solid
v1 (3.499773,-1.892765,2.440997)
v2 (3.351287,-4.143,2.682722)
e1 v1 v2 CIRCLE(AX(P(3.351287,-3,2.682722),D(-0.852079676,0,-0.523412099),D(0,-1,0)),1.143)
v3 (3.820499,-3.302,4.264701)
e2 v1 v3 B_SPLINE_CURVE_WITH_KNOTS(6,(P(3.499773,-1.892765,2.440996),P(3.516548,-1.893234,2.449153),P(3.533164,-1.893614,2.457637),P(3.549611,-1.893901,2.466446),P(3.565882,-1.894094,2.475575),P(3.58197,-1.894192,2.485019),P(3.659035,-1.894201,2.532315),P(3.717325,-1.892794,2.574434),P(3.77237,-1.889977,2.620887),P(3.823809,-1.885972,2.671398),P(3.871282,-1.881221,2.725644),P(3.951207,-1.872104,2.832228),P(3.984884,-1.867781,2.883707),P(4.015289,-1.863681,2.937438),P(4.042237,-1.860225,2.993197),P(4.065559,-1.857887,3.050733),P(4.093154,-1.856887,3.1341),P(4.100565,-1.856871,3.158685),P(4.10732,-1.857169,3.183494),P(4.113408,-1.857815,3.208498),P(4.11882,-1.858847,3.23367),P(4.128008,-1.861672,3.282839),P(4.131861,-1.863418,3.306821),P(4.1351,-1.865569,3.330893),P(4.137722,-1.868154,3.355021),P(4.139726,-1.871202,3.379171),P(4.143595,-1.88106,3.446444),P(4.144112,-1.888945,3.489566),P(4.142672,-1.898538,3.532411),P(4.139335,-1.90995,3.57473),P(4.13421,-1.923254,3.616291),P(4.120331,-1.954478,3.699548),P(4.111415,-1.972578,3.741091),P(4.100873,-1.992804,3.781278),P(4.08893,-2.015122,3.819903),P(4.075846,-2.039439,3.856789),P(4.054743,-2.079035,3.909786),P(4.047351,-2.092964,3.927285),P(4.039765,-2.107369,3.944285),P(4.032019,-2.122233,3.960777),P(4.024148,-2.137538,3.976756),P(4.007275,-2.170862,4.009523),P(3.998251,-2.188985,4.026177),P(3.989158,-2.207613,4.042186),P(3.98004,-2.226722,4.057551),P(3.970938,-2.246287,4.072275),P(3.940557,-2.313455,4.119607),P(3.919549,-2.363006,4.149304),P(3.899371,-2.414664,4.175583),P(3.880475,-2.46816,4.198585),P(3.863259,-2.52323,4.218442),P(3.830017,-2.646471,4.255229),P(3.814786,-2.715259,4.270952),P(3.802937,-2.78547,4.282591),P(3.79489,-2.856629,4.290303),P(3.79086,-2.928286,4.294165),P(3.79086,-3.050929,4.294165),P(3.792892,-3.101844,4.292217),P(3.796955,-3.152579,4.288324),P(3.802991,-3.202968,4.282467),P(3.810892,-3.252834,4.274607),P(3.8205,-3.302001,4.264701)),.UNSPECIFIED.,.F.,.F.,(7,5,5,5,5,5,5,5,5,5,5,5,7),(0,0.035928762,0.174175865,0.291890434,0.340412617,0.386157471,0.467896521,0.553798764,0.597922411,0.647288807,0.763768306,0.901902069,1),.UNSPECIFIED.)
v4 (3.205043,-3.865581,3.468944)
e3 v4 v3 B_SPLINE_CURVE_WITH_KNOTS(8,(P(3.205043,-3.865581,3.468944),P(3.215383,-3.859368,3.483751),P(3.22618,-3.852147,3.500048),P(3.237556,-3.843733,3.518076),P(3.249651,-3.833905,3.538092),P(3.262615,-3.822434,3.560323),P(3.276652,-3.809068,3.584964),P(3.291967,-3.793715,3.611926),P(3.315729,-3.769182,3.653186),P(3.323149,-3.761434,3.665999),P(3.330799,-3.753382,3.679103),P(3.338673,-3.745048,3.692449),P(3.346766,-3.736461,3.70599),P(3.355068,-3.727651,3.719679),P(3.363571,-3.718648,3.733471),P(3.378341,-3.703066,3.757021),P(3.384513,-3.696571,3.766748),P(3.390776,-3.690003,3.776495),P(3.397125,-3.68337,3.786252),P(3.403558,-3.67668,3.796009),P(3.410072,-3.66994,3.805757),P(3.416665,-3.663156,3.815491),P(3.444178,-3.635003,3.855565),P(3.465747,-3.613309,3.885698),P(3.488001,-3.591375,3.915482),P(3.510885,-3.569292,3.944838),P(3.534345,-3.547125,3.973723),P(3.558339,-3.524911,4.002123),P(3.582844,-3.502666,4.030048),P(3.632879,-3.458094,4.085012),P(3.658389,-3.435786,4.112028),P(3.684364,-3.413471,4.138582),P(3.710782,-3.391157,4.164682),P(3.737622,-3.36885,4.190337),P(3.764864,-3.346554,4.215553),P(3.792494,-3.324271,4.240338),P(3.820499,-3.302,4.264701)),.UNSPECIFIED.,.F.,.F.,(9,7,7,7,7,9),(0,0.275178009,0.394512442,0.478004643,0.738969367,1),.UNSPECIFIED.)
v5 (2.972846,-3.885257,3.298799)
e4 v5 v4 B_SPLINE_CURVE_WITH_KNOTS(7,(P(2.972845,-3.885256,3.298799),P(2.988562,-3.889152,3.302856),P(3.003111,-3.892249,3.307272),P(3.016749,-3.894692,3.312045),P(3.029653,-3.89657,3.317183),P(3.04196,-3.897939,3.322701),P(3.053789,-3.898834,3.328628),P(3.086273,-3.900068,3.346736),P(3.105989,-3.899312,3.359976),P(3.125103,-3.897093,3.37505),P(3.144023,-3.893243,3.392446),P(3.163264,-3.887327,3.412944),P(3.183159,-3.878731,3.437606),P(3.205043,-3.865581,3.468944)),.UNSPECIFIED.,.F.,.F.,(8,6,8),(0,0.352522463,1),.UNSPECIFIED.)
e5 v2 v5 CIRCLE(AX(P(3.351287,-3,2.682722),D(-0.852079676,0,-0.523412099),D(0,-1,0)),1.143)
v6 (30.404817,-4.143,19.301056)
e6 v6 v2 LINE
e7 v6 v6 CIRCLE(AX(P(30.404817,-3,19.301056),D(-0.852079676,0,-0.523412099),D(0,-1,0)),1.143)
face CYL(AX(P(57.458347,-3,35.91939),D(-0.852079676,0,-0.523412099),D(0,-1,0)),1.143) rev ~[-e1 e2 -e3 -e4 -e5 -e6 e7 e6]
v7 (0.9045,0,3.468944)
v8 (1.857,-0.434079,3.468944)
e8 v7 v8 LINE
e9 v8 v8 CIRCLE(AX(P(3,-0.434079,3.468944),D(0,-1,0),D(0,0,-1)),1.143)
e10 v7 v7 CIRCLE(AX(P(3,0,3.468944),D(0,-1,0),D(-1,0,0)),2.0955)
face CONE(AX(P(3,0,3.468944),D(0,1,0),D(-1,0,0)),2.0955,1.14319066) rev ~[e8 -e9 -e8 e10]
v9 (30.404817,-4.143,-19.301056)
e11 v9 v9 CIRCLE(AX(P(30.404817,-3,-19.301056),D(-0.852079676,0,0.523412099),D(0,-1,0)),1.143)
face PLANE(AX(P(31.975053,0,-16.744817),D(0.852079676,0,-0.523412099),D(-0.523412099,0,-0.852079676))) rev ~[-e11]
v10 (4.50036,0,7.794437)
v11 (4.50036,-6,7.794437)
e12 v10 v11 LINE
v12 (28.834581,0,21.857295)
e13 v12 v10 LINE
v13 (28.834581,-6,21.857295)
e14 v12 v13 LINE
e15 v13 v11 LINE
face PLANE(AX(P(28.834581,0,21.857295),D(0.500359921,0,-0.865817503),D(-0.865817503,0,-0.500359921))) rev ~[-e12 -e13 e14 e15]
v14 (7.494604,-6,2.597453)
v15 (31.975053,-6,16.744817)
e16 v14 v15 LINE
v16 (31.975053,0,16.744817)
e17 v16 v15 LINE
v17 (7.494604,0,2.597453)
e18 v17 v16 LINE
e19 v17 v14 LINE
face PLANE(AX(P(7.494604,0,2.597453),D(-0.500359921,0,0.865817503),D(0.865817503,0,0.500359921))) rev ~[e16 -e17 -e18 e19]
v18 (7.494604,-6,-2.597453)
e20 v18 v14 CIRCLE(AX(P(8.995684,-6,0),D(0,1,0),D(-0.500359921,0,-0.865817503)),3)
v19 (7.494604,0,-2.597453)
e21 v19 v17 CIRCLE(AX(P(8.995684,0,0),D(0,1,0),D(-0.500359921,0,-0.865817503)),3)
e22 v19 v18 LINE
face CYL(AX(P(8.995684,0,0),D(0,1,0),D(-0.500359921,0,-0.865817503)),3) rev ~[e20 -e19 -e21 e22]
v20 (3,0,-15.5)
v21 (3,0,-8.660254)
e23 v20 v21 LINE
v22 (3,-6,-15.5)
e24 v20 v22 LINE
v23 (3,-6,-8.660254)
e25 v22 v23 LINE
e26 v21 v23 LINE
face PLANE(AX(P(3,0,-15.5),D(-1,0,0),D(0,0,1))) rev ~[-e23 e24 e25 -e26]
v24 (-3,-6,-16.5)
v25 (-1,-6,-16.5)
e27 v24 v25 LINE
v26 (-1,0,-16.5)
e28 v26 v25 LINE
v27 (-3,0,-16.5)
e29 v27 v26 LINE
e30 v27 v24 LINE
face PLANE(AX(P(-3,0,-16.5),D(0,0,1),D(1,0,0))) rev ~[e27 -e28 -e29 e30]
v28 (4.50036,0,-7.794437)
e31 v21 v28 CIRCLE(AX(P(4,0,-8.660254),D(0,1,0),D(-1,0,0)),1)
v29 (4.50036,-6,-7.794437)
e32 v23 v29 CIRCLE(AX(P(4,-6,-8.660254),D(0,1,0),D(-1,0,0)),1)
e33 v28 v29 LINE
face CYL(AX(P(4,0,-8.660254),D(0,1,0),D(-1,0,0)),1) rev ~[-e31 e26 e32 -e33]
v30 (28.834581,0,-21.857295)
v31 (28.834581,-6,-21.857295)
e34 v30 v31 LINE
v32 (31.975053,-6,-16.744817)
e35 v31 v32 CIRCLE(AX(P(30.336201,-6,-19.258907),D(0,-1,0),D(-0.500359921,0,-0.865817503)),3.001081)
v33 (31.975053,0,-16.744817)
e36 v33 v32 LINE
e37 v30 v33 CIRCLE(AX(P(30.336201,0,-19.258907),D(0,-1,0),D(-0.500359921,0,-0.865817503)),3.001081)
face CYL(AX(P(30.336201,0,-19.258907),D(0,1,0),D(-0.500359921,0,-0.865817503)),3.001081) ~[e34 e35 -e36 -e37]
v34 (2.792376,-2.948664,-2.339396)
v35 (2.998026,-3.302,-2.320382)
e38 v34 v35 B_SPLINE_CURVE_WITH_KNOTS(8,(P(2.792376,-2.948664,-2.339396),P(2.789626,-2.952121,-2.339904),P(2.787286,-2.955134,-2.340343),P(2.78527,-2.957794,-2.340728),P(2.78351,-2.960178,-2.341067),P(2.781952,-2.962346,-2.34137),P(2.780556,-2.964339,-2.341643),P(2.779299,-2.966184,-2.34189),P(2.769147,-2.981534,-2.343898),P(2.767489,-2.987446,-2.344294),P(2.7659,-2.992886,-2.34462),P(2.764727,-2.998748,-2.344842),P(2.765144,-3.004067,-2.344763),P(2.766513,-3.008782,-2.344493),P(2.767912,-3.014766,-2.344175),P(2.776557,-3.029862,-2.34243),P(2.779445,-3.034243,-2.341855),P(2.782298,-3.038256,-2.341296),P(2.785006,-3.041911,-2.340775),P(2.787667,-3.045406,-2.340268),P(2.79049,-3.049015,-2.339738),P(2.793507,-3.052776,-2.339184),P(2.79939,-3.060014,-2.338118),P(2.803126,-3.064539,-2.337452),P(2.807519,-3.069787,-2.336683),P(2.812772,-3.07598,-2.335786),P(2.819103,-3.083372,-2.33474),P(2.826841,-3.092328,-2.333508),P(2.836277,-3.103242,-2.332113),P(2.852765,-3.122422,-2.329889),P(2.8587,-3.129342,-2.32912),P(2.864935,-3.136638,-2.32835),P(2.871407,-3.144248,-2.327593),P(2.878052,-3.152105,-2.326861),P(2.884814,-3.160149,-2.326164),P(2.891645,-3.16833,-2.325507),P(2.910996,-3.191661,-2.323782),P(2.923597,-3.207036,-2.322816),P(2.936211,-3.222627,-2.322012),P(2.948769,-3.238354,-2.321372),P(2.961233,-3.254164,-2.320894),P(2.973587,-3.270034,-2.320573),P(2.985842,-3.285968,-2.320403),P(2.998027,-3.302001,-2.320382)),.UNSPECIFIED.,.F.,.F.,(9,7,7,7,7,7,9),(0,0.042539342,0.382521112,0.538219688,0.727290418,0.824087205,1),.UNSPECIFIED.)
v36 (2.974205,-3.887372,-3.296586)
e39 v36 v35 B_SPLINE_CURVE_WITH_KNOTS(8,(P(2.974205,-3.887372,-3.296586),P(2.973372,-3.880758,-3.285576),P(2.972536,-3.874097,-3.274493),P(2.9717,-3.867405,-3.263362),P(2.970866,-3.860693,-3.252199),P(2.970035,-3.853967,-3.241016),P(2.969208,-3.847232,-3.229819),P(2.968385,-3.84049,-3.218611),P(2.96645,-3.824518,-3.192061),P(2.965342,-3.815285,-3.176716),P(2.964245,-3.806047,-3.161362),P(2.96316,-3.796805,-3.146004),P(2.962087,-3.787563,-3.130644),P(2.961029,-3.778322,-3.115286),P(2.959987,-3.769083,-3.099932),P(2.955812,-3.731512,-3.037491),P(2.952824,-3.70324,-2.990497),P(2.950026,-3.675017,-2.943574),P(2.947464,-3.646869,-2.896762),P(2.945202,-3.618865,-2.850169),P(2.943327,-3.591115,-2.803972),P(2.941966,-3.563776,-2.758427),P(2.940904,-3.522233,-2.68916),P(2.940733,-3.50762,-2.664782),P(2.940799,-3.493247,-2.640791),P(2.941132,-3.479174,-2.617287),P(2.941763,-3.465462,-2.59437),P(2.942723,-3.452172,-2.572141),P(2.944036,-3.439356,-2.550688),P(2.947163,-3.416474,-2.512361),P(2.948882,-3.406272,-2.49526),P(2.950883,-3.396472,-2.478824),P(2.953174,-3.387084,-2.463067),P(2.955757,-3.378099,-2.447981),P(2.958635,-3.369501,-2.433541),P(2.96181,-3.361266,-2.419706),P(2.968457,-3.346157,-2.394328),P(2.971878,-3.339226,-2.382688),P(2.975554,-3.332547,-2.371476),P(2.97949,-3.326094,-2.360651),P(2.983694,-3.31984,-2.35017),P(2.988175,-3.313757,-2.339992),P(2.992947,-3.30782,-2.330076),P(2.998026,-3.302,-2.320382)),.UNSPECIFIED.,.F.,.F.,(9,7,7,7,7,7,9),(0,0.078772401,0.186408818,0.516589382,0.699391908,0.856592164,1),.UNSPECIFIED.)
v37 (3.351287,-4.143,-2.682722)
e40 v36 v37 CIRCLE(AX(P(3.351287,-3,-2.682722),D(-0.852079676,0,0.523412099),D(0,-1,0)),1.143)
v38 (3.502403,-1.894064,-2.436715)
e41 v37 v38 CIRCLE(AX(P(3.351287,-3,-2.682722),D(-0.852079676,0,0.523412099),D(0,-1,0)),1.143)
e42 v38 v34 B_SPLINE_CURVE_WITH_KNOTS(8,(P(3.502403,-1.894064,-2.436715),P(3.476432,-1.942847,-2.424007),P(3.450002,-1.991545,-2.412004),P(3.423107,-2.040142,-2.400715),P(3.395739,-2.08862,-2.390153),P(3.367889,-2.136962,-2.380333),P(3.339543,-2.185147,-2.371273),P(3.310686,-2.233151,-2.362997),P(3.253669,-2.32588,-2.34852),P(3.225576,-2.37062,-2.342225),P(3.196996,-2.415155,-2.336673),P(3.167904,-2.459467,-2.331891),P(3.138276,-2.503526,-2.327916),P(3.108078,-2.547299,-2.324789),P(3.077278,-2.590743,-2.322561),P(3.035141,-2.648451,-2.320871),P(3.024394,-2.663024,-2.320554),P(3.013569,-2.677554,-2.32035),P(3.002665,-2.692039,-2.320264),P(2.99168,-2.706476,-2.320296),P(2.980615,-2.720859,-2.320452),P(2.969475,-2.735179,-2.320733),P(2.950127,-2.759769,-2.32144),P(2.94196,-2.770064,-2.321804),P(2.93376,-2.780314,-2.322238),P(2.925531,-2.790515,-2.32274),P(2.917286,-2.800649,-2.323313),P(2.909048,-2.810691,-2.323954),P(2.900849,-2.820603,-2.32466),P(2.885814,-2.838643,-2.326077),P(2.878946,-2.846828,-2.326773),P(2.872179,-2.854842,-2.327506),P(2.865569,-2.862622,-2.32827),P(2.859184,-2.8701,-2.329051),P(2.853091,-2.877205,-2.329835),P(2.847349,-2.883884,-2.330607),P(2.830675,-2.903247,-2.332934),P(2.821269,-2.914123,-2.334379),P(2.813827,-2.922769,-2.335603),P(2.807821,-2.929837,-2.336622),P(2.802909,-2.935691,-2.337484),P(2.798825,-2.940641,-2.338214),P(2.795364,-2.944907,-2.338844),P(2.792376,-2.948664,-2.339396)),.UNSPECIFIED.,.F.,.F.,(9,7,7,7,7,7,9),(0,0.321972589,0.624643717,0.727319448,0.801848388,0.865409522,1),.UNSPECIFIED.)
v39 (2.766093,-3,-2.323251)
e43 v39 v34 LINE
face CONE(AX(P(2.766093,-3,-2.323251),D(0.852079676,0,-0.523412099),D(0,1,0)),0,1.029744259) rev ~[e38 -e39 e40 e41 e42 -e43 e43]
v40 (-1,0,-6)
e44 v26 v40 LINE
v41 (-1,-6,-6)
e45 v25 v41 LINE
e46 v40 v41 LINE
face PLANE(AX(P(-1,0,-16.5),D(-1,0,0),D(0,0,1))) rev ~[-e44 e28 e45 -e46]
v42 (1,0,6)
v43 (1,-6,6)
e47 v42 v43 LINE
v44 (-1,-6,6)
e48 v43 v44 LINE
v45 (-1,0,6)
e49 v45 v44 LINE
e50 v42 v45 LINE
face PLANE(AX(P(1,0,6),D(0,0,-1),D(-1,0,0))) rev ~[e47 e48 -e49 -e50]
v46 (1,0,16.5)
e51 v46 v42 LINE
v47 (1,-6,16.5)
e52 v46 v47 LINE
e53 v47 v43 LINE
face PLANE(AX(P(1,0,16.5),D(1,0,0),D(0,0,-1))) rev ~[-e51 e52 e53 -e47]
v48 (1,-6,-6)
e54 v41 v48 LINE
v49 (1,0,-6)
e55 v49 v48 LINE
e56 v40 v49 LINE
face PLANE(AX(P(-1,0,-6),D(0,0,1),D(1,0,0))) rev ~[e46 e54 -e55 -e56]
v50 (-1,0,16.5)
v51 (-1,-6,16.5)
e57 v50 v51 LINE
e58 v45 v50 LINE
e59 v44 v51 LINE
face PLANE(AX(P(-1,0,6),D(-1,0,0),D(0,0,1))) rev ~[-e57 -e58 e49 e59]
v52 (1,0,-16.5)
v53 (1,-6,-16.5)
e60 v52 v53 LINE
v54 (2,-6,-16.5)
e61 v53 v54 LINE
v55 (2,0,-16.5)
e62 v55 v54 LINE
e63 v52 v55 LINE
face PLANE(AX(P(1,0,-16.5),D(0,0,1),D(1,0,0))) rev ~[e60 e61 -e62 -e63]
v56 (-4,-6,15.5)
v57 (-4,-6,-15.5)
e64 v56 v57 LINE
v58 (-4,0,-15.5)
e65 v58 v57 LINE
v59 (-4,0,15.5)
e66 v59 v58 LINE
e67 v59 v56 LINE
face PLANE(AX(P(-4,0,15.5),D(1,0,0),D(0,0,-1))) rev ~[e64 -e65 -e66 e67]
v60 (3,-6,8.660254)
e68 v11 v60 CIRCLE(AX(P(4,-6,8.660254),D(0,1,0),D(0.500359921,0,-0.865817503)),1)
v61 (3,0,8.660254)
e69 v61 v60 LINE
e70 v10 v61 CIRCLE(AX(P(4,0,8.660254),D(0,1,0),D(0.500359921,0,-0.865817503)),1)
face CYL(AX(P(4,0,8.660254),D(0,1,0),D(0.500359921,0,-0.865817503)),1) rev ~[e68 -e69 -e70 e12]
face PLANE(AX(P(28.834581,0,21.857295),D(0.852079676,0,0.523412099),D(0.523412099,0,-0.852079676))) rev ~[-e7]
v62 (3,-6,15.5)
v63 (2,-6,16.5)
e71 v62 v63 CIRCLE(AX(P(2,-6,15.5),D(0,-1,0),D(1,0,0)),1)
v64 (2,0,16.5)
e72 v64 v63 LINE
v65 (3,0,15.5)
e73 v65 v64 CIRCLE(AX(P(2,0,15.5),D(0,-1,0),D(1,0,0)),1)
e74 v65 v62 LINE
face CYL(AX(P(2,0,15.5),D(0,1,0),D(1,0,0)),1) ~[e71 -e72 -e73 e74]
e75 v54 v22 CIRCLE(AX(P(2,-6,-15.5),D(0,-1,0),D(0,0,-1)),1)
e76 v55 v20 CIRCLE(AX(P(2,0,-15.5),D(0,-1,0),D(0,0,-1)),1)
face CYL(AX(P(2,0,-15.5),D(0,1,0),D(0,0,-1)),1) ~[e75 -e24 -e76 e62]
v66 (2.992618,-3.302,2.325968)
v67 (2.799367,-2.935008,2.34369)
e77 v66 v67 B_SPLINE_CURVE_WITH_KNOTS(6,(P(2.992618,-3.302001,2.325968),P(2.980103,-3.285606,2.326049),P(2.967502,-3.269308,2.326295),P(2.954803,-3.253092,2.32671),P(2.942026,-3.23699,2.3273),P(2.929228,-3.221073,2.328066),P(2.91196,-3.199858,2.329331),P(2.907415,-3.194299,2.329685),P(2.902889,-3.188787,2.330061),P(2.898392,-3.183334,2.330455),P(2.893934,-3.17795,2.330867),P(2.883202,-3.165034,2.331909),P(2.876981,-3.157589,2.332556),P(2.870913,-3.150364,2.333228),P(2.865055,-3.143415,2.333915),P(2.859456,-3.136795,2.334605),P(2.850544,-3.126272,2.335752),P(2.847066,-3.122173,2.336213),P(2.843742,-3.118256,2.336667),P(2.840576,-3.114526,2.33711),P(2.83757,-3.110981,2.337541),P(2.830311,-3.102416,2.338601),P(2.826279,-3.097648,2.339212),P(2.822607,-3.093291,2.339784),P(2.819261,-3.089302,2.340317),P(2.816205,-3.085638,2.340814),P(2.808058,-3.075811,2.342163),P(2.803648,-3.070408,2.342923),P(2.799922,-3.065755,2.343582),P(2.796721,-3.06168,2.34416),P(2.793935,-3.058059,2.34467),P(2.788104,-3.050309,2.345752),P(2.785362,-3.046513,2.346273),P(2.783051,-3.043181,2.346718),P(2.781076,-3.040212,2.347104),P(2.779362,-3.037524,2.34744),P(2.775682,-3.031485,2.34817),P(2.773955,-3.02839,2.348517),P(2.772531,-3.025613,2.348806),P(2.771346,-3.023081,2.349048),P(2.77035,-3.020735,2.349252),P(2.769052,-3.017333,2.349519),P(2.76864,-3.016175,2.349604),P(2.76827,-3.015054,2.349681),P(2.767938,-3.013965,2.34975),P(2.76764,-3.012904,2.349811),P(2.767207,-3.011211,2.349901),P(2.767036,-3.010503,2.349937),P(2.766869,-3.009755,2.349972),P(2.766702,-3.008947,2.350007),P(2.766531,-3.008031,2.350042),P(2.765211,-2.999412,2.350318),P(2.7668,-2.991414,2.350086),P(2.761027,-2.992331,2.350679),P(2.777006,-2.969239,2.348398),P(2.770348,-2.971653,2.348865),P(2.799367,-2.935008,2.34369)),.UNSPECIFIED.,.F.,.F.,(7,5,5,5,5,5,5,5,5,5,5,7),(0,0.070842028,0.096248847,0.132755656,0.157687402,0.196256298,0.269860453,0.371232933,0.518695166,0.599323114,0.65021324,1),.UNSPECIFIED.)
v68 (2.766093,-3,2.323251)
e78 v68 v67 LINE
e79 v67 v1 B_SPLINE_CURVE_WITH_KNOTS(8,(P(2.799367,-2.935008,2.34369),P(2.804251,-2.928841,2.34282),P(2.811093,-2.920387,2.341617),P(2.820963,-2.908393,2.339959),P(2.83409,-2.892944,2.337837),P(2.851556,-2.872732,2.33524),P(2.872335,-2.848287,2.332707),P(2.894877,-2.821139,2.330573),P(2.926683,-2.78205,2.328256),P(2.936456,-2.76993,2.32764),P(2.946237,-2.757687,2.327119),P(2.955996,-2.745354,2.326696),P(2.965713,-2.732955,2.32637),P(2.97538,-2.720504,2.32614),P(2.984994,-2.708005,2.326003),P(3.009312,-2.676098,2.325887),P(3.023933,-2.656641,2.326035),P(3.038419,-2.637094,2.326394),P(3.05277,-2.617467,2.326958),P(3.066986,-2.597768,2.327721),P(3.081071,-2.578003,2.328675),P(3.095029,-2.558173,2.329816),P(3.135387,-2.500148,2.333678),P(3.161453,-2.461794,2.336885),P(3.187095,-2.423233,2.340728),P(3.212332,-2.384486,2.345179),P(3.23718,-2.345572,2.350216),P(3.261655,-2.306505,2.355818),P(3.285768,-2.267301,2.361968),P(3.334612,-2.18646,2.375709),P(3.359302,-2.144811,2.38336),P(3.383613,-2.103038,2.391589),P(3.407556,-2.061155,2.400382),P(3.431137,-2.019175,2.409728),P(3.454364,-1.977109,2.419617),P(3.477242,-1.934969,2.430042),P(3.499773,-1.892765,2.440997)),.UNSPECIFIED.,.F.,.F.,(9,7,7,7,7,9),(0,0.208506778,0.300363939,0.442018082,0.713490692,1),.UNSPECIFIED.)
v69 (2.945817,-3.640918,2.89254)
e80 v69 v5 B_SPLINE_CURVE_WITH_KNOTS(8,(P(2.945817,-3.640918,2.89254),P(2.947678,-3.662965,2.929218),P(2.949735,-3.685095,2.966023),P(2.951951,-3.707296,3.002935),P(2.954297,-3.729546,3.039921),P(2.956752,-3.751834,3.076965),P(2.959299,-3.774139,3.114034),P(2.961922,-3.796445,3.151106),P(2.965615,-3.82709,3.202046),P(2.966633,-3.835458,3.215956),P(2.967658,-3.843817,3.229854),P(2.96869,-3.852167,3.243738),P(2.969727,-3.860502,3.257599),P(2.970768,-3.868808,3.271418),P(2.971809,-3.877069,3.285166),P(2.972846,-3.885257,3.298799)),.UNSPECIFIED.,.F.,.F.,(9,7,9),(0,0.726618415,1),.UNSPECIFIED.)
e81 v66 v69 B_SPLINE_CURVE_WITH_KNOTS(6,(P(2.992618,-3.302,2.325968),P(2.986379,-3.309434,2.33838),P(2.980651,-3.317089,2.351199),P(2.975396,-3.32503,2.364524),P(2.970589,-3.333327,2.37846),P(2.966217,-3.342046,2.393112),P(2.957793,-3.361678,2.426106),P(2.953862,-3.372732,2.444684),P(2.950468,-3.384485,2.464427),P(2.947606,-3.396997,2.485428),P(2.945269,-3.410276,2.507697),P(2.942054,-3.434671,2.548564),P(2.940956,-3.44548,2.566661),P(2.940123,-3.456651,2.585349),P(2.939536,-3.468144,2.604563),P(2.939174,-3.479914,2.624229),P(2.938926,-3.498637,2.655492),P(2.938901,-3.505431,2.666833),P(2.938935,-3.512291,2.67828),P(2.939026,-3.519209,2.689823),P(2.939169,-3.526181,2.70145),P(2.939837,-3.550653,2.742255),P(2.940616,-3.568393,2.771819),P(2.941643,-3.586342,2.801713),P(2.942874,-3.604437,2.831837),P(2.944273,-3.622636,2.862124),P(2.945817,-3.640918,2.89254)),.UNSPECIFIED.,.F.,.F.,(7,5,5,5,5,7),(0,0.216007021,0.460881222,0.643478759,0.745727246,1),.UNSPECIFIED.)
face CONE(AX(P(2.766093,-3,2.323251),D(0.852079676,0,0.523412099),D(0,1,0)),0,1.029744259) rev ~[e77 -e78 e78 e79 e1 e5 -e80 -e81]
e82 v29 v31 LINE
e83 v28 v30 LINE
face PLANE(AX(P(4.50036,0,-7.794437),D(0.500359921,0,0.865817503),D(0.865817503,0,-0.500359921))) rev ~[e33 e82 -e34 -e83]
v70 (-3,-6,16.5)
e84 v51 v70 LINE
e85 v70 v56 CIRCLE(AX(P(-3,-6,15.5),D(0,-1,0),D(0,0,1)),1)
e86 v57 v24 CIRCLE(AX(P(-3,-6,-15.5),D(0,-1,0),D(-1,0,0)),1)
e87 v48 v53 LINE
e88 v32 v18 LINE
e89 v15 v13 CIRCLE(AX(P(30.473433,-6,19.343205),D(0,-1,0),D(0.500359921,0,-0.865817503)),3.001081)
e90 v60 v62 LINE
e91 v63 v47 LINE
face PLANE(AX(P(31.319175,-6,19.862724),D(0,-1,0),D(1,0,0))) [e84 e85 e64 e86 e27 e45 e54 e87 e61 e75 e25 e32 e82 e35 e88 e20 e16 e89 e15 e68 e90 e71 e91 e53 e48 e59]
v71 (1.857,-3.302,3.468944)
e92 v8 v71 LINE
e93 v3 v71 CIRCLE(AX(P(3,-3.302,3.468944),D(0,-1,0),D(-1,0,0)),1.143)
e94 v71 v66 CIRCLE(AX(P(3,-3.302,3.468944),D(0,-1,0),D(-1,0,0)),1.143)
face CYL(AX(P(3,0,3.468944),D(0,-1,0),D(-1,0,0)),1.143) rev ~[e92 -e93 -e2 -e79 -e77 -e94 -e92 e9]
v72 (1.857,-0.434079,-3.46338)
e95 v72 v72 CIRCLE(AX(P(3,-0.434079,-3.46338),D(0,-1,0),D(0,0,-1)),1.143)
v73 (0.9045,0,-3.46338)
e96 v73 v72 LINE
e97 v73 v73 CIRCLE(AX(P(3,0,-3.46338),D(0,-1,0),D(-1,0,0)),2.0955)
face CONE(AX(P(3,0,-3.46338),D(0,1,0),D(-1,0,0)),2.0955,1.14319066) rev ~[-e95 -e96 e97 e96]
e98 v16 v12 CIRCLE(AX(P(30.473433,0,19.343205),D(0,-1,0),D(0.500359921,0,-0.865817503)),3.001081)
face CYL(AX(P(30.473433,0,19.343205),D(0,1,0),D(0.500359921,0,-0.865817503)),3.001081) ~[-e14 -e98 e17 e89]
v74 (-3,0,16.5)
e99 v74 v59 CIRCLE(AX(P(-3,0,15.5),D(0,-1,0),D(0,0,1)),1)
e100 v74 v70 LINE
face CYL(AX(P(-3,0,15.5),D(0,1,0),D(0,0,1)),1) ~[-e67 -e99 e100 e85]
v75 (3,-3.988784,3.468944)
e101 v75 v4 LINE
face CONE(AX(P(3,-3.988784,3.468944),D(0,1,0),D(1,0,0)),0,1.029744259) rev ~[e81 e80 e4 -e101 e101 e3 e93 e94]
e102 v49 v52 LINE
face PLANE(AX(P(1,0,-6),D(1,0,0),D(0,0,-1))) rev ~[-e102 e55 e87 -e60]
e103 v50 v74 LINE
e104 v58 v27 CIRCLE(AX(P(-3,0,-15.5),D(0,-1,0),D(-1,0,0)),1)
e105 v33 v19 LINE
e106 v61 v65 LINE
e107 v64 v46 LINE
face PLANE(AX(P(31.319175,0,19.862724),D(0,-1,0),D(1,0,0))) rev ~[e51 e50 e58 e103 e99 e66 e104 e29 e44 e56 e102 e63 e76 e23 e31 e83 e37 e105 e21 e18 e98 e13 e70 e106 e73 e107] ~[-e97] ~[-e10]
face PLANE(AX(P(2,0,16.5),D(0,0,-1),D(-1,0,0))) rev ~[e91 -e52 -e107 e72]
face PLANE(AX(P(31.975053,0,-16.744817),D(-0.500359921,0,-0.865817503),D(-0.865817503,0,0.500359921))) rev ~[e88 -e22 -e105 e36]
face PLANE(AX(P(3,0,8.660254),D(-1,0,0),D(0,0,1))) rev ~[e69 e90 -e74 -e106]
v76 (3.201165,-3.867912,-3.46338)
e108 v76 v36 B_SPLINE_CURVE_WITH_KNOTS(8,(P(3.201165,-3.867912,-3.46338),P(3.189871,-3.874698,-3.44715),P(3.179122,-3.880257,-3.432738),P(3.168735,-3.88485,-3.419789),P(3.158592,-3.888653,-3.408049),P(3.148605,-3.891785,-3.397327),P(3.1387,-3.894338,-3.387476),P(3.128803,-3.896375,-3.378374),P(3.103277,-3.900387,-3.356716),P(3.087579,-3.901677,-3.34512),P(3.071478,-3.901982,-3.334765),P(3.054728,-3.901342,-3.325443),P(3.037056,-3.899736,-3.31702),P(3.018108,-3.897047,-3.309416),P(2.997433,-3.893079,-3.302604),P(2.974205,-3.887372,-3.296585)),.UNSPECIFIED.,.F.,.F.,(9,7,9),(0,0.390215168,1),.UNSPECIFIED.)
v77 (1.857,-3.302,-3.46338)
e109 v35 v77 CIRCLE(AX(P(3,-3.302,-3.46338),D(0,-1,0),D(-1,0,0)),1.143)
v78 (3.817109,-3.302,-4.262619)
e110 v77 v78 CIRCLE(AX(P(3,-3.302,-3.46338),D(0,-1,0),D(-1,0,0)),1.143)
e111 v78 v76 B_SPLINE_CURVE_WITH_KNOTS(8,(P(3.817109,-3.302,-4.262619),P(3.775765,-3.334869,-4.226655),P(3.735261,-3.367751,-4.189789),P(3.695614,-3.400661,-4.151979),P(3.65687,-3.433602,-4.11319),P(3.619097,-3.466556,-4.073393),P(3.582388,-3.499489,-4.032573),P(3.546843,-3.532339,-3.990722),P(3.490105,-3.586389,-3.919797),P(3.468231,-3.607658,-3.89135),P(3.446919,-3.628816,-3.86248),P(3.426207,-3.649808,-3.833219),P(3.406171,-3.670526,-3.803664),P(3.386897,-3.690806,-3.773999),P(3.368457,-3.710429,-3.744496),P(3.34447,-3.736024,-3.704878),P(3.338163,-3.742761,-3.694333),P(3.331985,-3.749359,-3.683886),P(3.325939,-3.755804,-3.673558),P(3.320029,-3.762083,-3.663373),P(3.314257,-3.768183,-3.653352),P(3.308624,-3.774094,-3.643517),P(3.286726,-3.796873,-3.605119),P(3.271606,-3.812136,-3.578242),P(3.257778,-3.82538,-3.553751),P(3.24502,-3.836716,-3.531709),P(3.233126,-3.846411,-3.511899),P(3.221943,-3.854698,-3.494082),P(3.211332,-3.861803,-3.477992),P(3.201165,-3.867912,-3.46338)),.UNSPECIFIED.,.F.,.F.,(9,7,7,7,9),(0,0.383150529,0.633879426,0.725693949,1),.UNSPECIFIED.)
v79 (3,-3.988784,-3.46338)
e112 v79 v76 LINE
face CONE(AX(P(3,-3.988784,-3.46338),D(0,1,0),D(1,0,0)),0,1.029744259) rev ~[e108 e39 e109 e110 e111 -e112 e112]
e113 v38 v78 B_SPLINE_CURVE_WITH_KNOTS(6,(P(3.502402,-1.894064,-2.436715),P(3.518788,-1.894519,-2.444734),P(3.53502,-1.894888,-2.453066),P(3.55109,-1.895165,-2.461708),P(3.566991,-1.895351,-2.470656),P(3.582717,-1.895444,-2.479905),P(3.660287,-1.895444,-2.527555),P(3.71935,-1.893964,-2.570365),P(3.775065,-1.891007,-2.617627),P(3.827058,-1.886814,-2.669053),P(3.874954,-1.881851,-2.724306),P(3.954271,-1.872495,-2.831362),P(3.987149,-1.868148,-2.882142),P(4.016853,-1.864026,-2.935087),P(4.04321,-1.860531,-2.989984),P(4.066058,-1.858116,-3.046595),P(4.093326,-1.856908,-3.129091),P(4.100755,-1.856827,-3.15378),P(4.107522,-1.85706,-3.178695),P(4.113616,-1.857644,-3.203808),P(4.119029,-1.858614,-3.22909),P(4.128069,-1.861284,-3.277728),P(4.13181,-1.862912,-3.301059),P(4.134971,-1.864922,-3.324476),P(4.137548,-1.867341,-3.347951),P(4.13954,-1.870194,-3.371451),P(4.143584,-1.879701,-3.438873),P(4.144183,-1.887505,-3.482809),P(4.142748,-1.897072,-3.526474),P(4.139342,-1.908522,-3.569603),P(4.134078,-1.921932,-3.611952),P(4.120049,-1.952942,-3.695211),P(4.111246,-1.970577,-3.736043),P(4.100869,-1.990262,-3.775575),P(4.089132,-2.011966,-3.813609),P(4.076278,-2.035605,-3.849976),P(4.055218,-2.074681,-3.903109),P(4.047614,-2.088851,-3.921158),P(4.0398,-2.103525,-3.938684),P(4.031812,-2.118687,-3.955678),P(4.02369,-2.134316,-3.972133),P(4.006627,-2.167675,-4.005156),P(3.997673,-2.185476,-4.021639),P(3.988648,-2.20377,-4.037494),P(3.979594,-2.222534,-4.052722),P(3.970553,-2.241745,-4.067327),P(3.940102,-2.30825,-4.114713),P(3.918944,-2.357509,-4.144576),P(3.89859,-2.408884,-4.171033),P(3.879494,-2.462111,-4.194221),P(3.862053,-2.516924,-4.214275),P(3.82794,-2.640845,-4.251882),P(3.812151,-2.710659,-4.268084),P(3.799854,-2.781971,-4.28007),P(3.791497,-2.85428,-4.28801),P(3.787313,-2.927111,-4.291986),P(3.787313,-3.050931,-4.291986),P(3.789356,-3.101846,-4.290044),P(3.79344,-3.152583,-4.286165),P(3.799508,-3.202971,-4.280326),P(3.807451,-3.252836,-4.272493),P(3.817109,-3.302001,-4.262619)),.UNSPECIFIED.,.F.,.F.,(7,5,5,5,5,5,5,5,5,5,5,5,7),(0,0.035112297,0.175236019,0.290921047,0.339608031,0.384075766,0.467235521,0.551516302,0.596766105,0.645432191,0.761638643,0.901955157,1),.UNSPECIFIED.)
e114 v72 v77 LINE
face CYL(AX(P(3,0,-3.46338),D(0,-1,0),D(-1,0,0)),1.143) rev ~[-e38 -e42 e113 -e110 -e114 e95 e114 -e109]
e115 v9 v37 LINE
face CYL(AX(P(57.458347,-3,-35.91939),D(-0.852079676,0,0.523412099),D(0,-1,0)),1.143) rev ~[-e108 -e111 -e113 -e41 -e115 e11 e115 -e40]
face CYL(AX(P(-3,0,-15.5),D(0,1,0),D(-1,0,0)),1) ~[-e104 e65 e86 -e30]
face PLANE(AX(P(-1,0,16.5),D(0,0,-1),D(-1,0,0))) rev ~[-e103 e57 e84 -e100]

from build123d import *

# Parameters (mm, degrees)
F1_DEPTH       = 6
F3_D           = 2.286
F3_DEPTH       = 3.302
F3_CSINK_D     = 4.191
F3_CSINK_ANGLE = 131
F3_TIP         = 0.6867836875
F4_D           = 2.286
F4_DEPTH       = 3.302
F4_CSINK_D     = 4.191
F4_CSINK_ANGLE = 131
F4_TIP         = 0.6867836875
F6_D           = 2.286
F6_DEPTH       = 31.75
F6_TIP         = 0.6867836875
F8_D           = 2.286
F8_DEPTH       = 31.75
F8_TIP         = 0.6867836875
F9_DEPTH       = 6


with BuildPart() as f1:
    # F0 (on Front) → F1 (new body)
    with BuildSketch(Plane.XZ):
        with BuildLine():
            Line((1, 16.5), (1, 6))
            Line((1, 6), (1, 0))
            Line((1, 0), (1, -6))
            Line((1, -6), (1, -16.5))
            Line((1, -16.5), (2, -16.5))
            ThreePointArc((2, -16.5), (2.7071067812, -16.2071067812), (3, -15.5))
            Line((3, -15.5), (3, -8.6602540378))
            ThreePointArc((3, -8.6602540378), (3.5001799931, -7.7941247399), (4.5003599214, -7.7944365345))
            Line((4.5003599214, -7.7944365345), (28.8345806574, -21.8572947335))
            Line((28.8345806574, -21.8572947335), (31.9750532508, -16.7448166758))
            Line((31.9750532508, -16.7448166758), (7.4946042855, -2.5974525099))
            ThreePointArc((7.4946042855, -2.5974525099), (5.9956840498, 0), (7.4946042855, 2.5974525099))
            Line((7.4946042855, 2.5974525099), (31.9750532508, 16.7448166758))
            Line((31.9750532508, 16.7448166758), (28.8345806574, 21.8572947335))
            Line((28.8345806574, 21.8572947335), (4.5003599214, 7.7944365345))
            ThreePointArc((4.5003599214, 7.7944365345), (3.5001799931, 7.7941247399), (3, 8.6602540378))
            Line((3, 8.6602540378), (3, 15.5))
            ThreePointArc((3, 15.5), (2.7071067812, 16.2071067812), (2, 16.5))
            Line((2, 16.5), (1, 16.5))
        make_face()
        with BuildLine():
            Line((-1, -6), (-1, 6))
            Line((-1, 6), (-1, 16.5))
            Line((-1, 16.5), (-3, 16.5))
            ThreePointArc((-3, 16.5), (-3.7071067812, 16.2071067812), (-4, 15.5))
            Line((-4, 15.5), (-4, -15.5))
            ThreePointArc((-4, -15.5), (-3.7071067812, -16.2071067812), (-3, -16.5))
            Line((-3, -16.5), (-1, -16.5))
            Line((-1, -16.5), (-1, -6))
        make_face()
        Polygon((1, 0), (1, 6), (-1, 6), (-1, -6), (1, -6), align=None)
    extrude(amount=F1_DEPTH)

    # F3
    with Locations(Plane(origin=(0, 0, 0), x_dir=(1, 0, 0), z_dir=(0, 1, 0))):
        with Locations((3, 3.4633801802)):
            CounterSinkHole(F3_D / 2, F3_CSINK_D / 2, depth=F3_DEPTH, counter_sink_angle=F3_CSINK_ANGLE)
            with Locations((0, 0, -(F3_DEPTH + F3_TIP / 2))):  # 118° drill point
                Cone(0, F3_D / 2, F3_TIP, mode=Mode.SUBTRACT)

    # F4
    with Locations(Plane(origin=(0, 0, 0), x_dir=(1, 0, 0), z_dir=(0, 1, 0))):
        with Locations((3, -3.4689440442)):
            CounterSinkHole(F4_D / 2, F4_CSINK_D / 2, depth=F4_DEPTH, counter_sink_angle=F4_CSINK_ANGLE)
            with Locations((0, 0, -(F4_DEPTH + F4_TIP / 2))):  # 118° drill point
                Cone(0, F4_D / 2, F4_TIP, mode=Mode.SUBTRACT)

    # F6
    with Locations(Plane(origin=(30.6831613521, 0, 18.8479297546), x_dir=(0, 1, 0), z_dir=(0.8520796763, 0, 0.5234120989))):
        with Locations((-3, 0.5317882384)):
            Hole(F6_D / 2, depth=F6_DEPTH)
            with Locations((0, 0, -(F6_DEPTH + F6_TIP / 2))):  # 118° drill point
                Cone(0, F6_D / 2, F6_TIP, mode=Mode.SUBTRACT)

    # F8
    with Locations(Plane(origin=(30.6831613521, 0, -18.8479297546), x_dir=(0, 1, 0), z_dir=(0.8520796763, 0, -0.5234120989))):
        with Locations((-3, -0.5317882384)):
            Hole(F8_D / 2, depth=F8_DEPTH)
            with Locations((0, 0, -(F8_DEPTH + F8_TIP / 2))):  # 118° drill point
                Cone(0, F8_D / 2, F8_TIP, mode=Mode.SUBTRACT)

    # F0 (on Front) → F9 (join)
    with BuildSketch(Plane.XZ):
        with BuildLine():
            ThreePointArc((31.9750532508, 16.7448166758), (33.0305925786, 20.9140066634), (28.8345806574, 21.8572947335))
            Line((28.8345806574, 21.8572947335), (31.9750532508, 16.7448166758))
        make_face()
        with BuildLine():
            Line((31.9750532508, -16.7448166758), (28.8345806574, -21.8572947335))
            ThreePointArc((28.8345806574, -21.8572947335), (32.8933608768, -20.829708522), (31.9750532508, -16.7448166758))
        make_face()
    extrude(amount=F9_DEPTH)


solid = f1.part
